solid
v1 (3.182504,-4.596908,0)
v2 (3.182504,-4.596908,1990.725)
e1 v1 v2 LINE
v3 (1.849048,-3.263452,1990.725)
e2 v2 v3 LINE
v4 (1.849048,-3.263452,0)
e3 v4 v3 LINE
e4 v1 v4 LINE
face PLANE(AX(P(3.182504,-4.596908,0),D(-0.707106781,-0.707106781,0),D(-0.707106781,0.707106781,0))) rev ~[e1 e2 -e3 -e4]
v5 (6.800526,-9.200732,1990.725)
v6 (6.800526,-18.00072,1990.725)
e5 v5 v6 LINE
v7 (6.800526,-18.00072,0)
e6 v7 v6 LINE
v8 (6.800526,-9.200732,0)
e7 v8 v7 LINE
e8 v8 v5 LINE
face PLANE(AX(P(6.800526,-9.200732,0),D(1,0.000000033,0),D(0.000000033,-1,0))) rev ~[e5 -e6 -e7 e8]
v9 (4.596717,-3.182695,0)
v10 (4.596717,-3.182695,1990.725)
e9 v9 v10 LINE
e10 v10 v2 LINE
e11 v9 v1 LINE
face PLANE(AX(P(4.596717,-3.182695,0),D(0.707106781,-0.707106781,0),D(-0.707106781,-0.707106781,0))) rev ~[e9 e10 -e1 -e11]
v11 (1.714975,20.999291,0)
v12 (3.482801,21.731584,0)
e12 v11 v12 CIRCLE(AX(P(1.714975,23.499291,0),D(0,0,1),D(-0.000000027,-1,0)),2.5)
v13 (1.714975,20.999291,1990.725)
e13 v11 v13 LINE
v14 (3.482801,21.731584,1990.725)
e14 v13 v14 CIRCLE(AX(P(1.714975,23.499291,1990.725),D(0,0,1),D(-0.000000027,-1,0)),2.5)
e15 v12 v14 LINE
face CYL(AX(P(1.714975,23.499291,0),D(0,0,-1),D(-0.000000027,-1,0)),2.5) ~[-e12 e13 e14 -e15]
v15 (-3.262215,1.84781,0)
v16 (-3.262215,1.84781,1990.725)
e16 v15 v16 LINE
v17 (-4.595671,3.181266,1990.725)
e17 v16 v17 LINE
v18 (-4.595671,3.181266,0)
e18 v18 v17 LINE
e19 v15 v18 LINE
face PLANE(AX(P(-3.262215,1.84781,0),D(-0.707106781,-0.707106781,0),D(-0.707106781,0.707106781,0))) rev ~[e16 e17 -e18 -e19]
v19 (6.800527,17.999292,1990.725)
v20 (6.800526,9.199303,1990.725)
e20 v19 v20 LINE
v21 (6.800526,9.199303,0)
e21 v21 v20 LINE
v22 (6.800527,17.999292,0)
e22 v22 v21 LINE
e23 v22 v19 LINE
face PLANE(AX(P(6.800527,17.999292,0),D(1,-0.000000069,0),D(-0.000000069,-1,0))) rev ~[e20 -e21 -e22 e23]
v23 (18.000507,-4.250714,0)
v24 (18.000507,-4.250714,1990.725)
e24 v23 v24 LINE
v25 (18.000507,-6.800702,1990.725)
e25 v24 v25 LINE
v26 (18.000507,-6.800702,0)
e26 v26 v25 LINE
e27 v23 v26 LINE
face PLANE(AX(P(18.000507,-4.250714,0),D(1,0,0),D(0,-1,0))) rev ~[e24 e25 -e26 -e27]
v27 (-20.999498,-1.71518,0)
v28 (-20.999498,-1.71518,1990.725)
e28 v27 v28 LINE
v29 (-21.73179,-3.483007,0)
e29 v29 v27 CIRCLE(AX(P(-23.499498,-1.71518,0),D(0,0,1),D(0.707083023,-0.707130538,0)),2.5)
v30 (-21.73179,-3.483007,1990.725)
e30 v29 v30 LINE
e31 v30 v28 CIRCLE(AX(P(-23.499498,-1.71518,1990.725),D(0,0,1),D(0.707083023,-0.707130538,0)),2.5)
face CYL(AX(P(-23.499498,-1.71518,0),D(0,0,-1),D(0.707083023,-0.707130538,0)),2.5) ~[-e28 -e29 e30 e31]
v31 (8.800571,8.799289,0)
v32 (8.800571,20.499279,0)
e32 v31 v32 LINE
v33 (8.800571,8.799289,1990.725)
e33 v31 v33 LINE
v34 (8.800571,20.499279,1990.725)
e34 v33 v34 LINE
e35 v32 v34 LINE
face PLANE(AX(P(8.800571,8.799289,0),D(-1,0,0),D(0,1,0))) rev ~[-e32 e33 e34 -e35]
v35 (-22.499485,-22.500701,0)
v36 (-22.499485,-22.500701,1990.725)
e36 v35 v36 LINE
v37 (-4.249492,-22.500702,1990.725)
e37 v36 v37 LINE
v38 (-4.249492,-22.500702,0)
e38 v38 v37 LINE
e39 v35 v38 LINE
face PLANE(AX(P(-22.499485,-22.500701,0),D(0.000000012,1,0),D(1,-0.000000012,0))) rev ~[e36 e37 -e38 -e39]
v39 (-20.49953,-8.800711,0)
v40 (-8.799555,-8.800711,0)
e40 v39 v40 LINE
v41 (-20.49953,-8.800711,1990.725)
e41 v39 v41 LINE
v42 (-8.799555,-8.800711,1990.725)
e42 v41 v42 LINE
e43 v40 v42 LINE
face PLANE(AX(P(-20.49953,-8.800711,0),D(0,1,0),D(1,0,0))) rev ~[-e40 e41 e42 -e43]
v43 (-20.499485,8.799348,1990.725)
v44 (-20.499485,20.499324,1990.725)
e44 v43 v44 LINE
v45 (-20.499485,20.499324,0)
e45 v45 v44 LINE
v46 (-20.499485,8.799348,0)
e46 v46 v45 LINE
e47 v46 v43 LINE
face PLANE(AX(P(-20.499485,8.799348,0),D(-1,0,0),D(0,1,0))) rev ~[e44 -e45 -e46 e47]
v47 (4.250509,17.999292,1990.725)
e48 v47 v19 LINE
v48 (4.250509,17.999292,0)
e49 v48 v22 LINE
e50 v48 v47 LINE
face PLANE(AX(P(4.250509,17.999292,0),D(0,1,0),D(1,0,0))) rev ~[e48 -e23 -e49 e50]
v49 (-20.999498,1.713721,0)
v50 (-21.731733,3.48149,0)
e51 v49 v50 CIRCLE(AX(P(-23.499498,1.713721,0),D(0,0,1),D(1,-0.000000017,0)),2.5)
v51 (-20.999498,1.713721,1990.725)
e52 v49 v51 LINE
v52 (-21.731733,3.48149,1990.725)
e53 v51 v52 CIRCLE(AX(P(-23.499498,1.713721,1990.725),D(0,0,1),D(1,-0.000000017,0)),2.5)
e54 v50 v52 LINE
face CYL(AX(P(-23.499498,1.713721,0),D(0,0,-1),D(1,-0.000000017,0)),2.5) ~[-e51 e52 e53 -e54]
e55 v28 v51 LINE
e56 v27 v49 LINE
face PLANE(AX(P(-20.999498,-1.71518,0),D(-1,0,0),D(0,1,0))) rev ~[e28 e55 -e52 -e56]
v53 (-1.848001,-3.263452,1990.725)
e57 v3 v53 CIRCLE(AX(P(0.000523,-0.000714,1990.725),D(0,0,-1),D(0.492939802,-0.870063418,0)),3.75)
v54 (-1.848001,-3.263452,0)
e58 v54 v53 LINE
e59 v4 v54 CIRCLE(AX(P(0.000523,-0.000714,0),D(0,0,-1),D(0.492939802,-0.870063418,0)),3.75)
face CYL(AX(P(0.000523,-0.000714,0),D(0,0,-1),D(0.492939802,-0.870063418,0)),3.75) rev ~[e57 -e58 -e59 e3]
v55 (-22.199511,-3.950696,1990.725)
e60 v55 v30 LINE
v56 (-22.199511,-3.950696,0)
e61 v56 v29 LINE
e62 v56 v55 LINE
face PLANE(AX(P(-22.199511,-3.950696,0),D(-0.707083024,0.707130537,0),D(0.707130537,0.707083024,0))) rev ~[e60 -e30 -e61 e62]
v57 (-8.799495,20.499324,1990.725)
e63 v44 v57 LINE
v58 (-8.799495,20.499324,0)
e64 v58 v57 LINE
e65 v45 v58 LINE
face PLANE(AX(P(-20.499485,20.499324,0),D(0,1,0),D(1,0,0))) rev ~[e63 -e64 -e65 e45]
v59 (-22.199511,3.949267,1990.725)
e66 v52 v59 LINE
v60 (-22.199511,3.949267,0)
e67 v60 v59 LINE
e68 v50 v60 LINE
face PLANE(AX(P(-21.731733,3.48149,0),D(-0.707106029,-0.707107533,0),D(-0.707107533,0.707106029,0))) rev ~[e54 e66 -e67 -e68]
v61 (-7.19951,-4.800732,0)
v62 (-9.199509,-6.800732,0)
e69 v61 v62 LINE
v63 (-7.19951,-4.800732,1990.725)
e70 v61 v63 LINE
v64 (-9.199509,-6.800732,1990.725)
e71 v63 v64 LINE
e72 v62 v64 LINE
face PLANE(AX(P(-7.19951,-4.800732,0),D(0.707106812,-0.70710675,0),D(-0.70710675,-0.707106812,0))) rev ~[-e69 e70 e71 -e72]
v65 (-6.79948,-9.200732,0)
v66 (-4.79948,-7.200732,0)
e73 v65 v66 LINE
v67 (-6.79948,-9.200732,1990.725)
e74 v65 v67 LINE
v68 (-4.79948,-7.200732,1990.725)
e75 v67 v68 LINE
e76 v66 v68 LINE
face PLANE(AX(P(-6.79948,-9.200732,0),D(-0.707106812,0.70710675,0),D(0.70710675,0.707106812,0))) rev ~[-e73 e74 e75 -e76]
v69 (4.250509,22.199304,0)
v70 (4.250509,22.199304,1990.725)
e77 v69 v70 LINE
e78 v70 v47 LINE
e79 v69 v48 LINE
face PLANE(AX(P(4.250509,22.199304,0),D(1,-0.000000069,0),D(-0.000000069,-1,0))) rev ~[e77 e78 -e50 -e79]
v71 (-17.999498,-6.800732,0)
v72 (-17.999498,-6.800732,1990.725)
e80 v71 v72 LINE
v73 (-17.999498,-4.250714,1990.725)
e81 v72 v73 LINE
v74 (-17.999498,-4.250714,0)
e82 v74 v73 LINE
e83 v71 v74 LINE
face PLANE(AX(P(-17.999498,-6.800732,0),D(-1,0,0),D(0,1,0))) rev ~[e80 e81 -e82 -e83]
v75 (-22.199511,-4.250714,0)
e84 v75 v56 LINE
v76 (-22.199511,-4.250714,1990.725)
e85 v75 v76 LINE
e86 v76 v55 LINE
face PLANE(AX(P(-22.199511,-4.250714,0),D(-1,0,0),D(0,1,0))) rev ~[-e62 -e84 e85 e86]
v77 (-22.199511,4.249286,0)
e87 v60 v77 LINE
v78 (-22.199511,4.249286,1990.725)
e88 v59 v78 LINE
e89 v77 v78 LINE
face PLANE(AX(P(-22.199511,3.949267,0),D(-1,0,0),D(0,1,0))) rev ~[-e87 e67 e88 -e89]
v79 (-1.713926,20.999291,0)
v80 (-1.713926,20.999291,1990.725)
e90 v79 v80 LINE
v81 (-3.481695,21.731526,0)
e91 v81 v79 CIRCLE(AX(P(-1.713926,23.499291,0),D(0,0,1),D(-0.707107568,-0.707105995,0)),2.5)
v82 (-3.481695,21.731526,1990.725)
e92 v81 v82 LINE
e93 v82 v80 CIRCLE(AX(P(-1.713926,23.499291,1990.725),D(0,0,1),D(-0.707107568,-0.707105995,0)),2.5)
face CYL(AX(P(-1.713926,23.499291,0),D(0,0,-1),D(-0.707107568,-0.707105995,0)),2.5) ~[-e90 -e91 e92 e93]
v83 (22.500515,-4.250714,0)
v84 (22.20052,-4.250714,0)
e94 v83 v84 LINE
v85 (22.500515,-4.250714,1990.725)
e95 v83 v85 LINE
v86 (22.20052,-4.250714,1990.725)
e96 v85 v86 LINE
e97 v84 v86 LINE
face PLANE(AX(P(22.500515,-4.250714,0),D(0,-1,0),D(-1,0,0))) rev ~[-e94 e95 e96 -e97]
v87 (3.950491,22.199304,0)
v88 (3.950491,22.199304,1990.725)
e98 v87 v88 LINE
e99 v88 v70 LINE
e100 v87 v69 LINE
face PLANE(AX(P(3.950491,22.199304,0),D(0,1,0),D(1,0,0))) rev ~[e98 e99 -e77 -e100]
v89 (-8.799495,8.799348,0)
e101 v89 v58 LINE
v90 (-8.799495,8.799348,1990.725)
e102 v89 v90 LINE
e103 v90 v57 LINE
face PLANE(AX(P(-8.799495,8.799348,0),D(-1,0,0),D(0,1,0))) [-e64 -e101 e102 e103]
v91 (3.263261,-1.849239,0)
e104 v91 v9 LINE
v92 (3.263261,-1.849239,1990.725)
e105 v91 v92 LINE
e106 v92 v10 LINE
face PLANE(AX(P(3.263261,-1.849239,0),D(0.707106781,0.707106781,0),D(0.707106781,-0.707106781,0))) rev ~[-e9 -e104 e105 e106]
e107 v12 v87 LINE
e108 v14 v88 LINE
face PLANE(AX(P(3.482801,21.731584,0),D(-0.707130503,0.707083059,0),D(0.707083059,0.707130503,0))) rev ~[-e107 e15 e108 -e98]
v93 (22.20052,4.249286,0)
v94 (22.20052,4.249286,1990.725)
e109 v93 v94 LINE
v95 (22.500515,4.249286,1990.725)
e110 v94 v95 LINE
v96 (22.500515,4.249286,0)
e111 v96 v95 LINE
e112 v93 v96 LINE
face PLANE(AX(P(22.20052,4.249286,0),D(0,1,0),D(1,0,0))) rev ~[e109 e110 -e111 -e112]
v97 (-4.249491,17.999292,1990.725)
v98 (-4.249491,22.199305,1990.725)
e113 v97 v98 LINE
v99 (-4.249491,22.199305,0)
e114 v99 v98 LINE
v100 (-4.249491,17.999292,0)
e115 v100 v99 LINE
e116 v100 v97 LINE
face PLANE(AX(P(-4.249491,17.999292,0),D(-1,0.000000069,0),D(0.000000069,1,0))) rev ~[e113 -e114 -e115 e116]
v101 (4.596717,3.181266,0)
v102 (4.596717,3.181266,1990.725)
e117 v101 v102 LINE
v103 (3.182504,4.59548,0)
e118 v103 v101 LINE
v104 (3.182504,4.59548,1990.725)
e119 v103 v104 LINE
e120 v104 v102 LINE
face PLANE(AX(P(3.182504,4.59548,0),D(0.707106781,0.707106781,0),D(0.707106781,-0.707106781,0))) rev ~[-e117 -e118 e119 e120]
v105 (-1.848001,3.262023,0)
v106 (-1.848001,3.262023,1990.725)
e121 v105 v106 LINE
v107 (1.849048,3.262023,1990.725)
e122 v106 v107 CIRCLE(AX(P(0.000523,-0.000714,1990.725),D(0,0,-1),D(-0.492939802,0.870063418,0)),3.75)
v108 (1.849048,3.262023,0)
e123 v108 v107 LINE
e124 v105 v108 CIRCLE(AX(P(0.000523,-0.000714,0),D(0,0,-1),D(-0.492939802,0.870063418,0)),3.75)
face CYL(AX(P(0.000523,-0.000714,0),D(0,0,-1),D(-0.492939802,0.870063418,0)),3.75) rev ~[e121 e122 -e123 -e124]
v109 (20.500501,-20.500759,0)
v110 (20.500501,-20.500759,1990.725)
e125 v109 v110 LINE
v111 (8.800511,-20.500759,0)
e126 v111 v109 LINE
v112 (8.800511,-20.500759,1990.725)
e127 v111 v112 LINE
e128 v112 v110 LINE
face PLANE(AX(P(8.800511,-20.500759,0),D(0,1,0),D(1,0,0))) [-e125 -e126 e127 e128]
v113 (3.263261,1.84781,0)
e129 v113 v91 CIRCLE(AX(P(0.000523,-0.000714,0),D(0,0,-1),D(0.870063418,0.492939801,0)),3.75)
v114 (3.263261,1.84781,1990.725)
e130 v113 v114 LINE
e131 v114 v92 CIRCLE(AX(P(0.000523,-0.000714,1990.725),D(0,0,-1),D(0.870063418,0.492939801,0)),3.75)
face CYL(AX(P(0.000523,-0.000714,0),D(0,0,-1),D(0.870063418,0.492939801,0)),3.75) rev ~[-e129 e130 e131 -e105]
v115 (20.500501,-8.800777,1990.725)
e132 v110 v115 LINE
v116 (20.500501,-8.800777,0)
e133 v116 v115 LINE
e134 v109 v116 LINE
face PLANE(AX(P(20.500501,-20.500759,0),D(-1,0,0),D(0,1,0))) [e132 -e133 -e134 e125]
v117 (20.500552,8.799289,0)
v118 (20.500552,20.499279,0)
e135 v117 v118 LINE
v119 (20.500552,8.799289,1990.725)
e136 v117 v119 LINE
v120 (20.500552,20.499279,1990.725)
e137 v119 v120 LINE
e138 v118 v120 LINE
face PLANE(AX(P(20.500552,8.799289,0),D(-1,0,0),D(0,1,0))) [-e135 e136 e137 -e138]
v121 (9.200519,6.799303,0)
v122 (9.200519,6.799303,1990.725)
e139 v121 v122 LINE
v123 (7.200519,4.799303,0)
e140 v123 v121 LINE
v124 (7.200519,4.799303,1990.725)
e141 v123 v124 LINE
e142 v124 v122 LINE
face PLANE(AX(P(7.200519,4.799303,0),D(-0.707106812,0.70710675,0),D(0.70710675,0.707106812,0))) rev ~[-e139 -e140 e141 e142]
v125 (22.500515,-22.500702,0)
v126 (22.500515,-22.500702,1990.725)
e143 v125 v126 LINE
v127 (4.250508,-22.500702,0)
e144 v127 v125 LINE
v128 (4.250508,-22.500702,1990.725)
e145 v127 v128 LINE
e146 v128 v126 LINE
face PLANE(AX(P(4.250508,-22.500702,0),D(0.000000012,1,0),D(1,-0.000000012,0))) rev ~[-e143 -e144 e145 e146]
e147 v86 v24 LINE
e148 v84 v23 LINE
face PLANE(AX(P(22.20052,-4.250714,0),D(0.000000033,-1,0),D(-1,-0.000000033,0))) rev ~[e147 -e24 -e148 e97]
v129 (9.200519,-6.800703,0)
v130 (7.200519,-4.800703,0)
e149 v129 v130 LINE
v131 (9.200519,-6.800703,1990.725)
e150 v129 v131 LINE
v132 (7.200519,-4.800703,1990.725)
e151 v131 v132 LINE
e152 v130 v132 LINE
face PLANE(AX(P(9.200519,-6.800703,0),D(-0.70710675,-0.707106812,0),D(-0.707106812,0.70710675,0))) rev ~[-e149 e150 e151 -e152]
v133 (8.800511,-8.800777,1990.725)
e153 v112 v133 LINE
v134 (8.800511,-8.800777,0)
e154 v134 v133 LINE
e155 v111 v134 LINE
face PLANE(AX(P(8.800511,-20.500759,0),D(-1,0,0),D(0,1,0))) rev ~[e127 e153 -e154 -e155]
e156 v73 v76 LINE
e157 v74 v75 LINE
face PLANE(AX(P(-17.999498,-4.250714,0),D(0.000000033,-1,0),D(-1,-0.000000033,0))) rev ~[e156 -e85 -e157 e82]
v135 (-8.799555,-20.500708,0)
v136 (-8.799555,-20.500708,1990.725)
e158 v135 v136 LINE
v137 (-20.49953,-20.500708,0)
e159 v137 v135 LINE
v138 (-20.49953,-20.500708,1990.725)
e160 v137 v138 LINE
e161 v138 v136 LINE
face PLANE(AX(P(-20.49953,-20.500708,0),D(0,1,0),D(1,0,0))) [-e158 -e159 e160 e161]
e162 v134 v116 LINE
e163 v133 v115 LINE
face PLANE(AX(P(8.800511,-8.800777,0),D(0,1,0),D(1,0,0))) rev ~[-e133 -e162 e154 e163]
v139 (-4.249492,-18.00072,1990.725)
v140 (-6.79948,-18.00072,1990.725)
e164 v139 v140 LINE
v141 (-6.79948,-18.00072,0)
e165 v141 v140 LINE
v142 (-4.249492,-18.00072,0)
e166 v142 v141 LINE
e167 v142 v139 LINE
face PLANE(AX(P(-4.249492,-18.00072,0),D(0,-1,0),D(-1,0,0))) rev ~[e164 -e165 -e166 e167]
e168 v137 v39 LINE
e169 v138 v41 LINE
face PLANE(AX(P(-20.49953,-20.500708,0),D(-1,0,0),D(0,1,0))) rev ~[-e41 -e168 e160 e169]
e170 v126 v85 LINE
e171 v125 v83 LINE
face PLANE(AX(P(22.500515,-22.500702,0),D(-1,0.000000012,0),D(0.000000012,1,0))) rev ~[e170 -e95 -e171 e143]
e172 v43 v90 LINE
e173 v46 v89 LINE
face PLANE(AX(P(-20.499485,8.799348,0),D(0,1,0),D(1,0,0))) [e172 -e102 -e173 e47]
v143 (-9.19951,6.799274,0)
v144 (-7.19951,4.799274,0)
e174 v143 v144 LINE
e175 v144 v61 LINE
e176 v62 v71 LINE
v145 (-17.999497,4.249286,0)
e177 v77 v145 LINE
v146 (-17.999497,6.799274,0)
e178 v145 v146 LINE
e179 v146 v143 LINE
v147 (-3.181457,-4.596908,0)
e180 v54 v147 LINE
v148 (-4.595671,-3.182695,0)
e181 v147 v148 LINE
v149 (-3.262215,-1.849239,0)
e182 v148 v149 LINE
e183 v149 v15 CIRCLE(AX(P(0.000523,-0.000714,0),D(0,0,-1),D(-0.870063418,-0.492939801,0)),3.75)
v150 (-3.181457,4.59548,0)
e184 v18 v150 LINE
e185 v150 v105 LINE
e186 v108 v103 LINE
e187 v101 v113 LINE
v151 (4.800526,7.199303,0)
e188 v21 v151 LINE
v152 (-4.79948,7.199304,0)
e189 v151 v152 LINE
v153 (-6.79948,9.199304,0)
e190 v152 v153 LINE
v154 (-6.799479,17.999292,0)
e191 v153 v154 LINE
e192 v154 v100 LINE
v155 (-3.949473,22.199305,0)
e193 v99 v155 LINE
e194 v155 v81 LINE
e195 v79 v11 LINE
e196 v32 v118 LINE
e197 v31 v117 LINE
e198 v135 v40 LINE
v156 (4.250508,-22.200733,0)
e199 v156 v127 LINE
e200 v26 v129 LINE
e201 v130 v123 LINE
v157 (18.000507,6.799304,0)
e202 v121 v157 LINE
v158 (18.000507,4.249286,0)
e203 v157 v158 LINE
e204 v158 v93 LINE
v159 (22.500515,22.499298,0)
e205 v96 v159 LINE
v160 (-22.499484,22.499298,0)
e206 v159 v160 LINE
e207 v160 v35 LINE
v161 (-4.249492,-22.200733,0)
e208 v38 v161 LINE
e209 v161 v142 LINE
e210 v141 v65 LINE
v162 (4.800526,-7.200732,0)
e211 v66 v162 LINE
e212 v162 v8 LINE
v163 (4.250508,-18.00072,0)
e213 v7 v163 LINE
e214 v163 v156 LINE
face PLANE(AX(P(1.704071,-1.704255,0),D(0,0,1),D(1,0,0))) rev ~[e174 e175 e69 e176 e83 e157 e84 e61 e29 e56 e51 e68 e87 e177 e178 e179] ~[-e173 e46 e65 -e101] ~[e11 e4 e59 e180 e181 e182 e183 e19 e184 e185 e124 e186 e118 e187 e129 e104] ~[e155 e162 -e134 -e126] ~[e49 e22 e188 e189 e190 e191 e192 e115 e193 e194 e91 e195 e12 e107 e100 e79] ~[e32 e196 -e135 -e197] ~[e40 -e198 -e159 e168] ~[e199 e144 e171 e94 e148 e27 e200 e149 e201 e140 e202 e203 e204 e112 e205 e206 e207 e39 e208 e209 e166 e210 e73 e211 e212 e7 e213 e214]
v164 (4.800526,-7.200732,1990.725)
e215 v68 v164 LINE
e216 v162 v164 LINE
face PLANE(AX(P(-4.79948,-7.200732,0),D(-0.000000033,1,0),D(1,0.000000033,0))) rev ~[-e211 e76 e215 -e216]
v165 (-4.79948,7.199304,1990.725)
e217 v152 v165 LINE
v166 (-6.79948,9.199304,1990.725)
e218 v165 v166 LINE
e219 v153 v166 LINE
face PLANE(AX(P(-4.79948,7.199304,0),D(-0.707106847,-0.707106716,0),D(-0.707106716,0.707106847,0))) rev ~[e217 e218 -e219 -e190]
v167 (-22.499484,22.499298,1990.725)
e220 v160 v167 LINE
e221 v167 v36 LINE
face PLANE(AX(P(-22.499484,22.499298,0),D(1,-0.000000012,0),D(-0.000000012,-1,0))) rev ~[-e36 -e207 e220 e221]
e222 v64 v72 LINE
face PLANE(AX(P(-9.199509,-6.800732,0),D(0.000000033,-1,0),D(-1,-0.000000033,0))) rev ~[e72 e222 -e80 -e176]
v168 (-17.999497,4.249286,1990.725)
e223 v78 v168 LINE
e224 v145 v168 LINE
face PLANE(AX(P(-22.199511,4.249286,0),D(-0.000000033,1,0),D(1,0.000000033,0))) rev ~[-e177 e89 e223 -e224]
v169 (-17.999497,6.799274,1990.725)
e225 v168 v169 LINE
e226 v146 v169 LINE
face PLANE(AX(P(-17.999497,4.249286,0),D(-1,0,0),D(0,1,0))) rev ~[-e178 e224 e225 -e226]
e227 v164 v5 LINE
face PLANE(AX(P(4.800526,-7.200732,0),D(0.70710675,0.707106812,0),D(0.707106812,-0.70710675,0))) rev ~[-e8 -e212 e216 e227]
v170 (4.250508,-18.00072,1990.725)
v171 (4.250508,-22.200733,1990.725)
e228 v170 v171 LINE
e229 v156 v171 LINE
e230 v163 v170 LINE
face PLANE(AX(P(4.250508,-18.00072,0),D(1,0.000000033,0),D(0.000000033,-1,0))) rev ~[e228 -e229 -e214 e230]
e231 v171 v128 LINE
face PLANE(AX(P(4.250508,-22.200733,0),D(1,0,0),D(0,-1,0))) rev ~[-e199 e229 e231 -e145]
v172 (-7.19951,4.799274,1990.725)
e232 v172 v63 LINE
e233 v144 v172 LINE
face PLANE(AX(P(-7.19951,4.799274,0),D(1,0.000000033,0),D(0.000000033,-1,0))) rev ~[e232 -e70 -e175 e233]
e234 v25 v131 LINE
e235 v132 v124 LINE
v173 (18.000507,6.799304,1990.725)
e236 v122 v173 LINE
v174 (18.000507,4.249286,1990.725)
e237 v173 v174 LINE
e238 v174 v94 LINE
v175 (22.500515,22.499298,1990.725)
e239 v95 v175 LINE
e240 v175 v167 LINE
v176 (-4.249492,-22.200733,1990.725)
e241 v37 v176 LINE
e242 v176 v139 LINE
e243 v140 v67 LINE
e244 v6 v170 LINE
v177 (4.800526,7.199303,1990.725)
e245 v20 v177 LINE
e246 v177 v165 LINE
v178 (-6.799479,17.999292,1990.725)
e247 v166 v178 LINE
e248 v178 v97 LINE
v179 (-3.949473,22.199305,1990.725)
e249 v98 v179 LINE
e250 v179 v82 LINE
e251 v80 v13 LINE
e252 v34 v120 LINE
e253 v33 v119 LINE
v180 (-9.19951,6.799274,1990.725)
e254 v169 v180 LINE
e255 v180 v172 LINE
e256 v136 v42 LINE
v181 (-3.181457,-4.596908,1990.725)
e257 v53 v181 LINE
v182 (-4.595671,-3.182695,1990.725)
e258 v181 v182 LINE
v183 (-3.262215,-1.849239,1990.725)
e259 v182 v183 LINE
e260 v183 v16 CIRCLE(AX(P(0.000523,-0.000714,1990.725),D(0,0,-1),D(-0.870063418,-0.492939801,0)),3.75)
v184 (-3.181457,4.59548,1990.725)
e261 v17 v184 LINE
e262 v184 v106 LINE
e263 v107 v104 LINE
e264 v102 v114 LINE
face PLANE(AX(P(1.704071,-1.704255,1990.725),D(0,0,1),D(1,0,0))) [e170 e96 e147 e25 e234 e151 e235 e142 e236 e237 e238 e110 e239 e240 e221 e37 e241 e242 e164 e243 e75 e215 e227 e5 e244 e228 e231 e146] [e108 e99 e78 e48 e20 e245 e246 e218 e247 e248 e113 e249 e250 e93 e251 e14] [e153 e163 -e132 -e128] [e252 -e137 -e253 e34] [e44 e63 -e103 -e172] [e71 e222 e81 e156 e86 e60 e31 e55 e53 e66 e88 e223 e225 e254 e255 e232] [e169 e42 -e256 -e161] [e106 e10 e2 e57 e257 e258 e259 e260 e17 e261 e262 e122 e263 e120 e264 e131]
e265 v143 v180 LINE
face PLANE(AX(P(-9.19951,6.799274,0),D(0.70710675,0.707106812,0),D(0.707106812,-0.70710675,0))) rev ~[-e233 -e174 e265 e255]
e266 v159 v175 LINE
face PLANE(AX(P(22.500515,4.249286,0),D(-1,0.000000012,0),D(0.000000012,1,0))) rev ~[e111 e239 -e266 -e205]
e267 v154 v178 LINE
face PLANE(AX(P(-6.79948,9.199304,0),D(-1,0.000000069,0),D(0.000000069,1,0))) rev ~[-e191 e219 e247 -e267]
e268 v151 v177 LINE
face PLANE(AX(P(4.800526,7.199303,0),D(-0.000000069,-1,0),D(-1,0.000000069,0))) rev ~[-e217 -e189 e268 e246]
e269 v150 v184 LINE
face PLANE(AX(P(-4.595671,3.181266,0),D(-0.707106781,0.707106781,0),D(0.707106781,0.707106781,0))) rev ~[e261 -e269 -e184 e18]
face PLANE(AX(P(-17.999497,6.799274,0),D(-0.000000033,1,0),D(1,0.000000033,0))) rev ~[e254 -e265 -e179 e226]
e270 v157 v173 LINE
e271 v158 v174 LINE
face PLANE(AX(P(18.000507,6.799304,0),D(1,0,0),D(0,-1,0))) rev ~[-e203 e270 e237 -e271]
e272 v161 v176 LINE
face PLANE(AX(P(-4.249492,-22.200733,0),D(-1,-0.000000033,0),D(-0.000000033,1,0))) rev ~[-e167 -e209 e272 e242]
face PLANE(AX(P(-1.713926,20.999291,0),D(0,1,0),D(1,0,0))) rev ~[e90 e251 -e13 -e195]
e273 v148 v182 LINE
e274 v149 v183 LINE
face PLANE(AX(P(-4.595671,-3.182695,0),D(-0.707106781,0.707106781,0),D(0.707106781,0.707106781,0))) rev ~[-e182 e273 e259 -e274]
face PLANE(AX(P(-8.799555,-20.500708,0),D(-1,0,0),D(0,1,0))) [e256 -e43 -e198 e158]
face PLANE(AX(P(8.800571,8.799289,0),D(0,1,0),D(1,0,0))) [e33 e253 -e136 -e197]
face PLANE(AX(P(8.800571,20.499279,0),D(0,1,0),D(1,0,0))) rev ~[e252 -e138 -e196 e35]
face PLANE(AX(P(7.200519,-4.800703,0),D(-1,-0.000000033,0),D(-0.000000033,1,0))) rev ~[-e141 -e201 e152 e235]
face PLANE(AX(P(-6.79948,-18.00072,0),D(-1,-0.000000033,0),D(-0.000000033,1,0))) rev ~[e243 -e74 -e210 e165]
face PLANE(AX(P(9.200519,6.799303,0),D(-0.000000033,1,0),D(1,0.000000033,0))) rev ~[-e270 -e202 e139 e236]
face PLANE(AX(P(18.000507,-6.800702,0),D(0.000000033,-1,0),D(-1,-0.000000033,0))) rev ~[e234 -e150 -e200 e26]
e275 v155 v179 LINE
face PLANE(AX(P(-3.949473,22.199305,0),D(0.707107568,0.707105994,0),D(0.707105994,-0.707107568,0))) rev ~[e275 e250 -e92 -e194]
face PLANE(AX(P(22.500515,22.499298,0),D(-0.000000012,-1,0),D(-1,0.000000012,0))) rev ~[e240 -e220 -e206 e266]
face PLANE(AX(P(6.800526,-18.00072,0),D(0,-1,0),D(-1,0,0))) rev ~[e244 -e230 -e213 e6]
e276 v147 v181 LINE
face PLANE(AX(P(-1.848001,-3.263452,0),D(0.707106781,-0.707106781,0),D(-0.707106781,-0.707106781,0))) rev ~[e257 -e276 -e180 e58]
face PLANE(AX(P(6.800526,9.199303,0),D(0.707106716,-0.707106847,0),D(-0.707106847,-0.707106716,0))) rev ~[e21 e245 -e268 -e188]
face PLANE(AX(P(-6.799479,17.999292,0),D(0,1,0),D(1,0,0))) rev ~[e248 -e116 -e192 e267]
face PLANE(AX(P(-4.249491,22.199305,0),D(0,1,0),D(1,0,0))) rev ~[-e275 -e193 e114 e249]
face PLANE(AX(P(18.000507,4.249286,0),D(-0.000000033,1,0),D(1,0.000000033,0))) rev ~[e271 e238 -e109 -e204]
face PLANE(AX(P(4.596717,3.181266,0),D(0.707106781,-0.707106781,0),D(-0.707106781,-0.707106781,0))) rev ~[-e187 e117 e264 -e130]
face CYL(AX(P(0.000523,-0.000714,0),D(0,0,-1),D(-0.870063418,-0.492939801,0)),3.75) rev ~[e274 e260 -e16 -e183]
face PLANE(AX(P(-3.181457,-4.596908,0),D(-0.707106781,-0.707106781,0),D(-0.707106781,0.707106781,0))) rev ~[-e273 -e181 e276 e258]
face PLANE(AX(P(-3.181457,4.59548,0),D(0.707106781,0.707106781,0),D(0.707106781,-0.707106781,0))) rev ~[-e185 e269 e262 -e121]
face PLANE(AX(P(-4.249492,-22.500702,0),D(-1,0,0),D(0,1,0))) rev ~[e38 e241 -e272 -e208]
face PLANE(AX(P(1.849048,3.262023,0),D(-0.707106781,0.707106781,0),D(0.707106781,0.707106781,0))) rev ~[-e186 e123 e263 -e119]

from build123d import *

# Parameters (mm, degrees)
SKETCH1_W           = 11.699975178
SKETCH1_H           = 11.699996949
SKETCH1_W_2         = 11.699990436
SKETCH1_H_2         = 11.699981689
SKETCH1_W_3         = 11.699990437
SKETCH1_H_3         = 11.699975177
SKETCH1_W_4         = 11.699981689
SKETCH1_H_4         = 11.699990436
BOSS_EXTRUDE1_DEPTH = 1990.725


with BuildPart() as part:
    # Sketch1 → Boss-Extrude1 (new body)
    with BuildSketch(Plane.XY):
        Polygon((22.500515052, 22.499297556), (-22.499484399, 22.499298105), (-22.499484948, -22.500701346), (-4.249491942, -22.500701568), (-4.249491942, -22.200733242), (-4.24949208, -18.000719999), (-6.799479919, -18.000719999), (-6.799480207, -9.200732353), (-4.799480391, -7.200732362), (4.800525817, -7.200732047), (6.8005258, -9.200731855), (6.800526088, -18.000720263), (4.250507877, -18.000720263), (4.250508015, -22.200733153), (4.250508015, -22.500701672), (22.500514502, -22.500701895), (22.500514725, -4.250714302), (22.200520351, -4.250714302), (18.000507108, -4.25071444), (18.000507108, -6.800702279), (9.200519462, -6.800702567), (7.200519471, -4.800702751), (7.200519156, 4.799303458), (9.200518964, 6.79930344), (18.000507424, 6.799303729), (18.000507424, 4.249285514), (22.200520261, 4.249285652), (22.500514829, 4.249285652), align=None)
        with BuildLine():
            Line((-4.249491247, 17.999291576), (-4.249490956, 22.199304807))
            Line((-4.249490956, 22.199304807), (-3.949472548, 22.199304807))
            Line((-3.949472548, 22.199304807), (-3.481695222, 21.73152644))
            ThreePointArc((-3.481695222, 21.73152644), (-2.670636178, 21.189593132), (-1.713926324, 20.999291428))
            Line((-1.713926324, 20.999291428), (1.714975167, 20.999291428))
            ThreePointArc((1.714975167, 20.999291428), (2.671722509, 21.189608628), (3.482801459, 21.731583767))
            Line((3.482801459, 21.731583767), (3.950490798, 22.199304487))
            Line((3.950490798, 22.199304487), (4.250509108, 22.199304487))
            Line((4.250509108, 22.199304487), (4.250508817, 17.999291575))
            Line((4.250508817, 17.999291575), (6.800527063, 17.999291575))
            Line((6.800527063, 17.999291575), (6.800526453, 9.199302988))
            Line((6.800526453, 9.199302988), (4.800526064, 7.199302969))
            Line((4.800526064, 7.199302969), (-4.799479817, 7.199303635))
            Line((-4.799479817, 7.199303635), (-6.799479854, 9.199304042))
            Line((-6.799479854, 9.199304042), (-6.799479244, 17.999291576))
            Line((-6.799479244, 17.999291576), (-4.249491247, 17.999291576))
        make_face(mode=Mode.SUBTRACT)
        with BuildLine():
            Line((-22.199510888, 4.249285566), (-17.999497356, 4.249285704))
            Line((-17.999497356, 4.249285704), (-17.999497356, 6.79927354))
            Line((-17.999497356, 6.79927354), (-9.199509947, 6.799273828))
            Line((-9.199509947, 6.799273828), (-7.199509956, 4.799274012))
            Line((-7.199509956, 4.799274012), (-7.199509641, -4.800732197))
            Line((-7.199509641, -4.800732197), (-9.199509449, -6.800732179))
            Line((-9.199509449, -6.800732179), (-17.99949762, -6.800732468))
            Line((-17.99949762, -6.800732468), (-17.99949762, -4.250714253))
            Line((-17.99949762, -4.250714253), (-22.199510799, -4.250714391))
            Line((-22.199510799, -4.250714391), (-22.199510799, -3.950696126))
            Line((-22.199510799, -3.950696126), (-21.731790056, -3.48300681))
            ThreePointArc((-21.731790056, -3.48300681), (-21.189814855, -2.671927844), (-20.999497617, -1.71518046))
            Line((-20.999497617, -1.71518046), (-20.999497617, 1.713721031))
            ThreePointArc((-20.999497617, 1.713721031), (-21.189799286, 2.670430863), (-21.731732544, 3.481489907))
            Line((-21.731732544, 3.481489907), (-22.199510888, 3.949267256))
            Line((-22.199510888, 3.949267256), (-22.199510888, 4.249285566))
        make_face(mode=Mode.SUBTRACT)
        with Locations((-14.649542346, -14.650709384)):
            Rectangle(SKETCH1_W, SKETCH1_H, mode=Mode.SUBTRACT)
        with Locations((14.65050626, -14.650767962)):
            Rectangle(SKETCH1_W_2, SKETCH1_H_2, mode=Mode.SUBTRACT)
        with BuildLine():
            Line((-3.181457266, -4.596908447), (-4.595670829, -3.182694885))
            Line((-4.595670829, -3.182694885), (-3.26221457, -1.849238626))
            ThreePointArc((-3.26221457, -1.849238626), (-3.749476751, -0.00071437), (-3.26221457, 1.847809887))
            Line((-3.26221457, 1.847809887), (-4.595670829, 3.181266146))
            Line((-4.595670829, 3.181266146), (-3.181457266, 4.595479708))
            Line((-3.181457266, 4.595479708), (-1.848001007, 3.262023449))
            ThreePointArc((-1.848001007, 3.262023449), (0.000523249, 3.74928563), (1.849047505, 3.262023449))
            Line((1.849047505, 3.262023449), (3.182503764, 4.595479708))
            Line((3.182503764, 4.595479708), (4.596717327, 3.181266146))
            Line((4.596717327, 3.181266146), (3.263261068, 1.847809887))
            ThreePointArc((3.263261068, 1.847809887), (3.750523249, -0.00071437), (3.263261068, -1.849238626))
            Line((3.263261068, -1.849238626), (4.596717327, -3.182694885))
            Line((4.596717327, -3.182694885), (3.182503764, -4.596908447))
            Line((3.182503764, -4.596908447), (1.849047505, -3.263452188))
            ThreePointArc((1.849047505, -3.263452188), (0.000523249, -3.75071437), (-1.848001007, -3.263452188))
            Line((-1.848001007, -3.263452188), (-3.181457266, -4.596908447))
        make_face(mode=Mode.SUBTRACT)
        with Locations((-14.64949028, 14.649335967)):
            Rectangle(SKETCH1_W_3, SKETCH1_H_3, mode=Mode.SUBTRACT)
        with Locations((14.650561583, 14.6492839)):
            Rectangle(SKETCH1_W_4, SKETCH1_H_4, mode=Mode.SUBTRACT)
    extrude(amount=BOSS_EXTRUDE1_DEPTH)


solid = part.part
